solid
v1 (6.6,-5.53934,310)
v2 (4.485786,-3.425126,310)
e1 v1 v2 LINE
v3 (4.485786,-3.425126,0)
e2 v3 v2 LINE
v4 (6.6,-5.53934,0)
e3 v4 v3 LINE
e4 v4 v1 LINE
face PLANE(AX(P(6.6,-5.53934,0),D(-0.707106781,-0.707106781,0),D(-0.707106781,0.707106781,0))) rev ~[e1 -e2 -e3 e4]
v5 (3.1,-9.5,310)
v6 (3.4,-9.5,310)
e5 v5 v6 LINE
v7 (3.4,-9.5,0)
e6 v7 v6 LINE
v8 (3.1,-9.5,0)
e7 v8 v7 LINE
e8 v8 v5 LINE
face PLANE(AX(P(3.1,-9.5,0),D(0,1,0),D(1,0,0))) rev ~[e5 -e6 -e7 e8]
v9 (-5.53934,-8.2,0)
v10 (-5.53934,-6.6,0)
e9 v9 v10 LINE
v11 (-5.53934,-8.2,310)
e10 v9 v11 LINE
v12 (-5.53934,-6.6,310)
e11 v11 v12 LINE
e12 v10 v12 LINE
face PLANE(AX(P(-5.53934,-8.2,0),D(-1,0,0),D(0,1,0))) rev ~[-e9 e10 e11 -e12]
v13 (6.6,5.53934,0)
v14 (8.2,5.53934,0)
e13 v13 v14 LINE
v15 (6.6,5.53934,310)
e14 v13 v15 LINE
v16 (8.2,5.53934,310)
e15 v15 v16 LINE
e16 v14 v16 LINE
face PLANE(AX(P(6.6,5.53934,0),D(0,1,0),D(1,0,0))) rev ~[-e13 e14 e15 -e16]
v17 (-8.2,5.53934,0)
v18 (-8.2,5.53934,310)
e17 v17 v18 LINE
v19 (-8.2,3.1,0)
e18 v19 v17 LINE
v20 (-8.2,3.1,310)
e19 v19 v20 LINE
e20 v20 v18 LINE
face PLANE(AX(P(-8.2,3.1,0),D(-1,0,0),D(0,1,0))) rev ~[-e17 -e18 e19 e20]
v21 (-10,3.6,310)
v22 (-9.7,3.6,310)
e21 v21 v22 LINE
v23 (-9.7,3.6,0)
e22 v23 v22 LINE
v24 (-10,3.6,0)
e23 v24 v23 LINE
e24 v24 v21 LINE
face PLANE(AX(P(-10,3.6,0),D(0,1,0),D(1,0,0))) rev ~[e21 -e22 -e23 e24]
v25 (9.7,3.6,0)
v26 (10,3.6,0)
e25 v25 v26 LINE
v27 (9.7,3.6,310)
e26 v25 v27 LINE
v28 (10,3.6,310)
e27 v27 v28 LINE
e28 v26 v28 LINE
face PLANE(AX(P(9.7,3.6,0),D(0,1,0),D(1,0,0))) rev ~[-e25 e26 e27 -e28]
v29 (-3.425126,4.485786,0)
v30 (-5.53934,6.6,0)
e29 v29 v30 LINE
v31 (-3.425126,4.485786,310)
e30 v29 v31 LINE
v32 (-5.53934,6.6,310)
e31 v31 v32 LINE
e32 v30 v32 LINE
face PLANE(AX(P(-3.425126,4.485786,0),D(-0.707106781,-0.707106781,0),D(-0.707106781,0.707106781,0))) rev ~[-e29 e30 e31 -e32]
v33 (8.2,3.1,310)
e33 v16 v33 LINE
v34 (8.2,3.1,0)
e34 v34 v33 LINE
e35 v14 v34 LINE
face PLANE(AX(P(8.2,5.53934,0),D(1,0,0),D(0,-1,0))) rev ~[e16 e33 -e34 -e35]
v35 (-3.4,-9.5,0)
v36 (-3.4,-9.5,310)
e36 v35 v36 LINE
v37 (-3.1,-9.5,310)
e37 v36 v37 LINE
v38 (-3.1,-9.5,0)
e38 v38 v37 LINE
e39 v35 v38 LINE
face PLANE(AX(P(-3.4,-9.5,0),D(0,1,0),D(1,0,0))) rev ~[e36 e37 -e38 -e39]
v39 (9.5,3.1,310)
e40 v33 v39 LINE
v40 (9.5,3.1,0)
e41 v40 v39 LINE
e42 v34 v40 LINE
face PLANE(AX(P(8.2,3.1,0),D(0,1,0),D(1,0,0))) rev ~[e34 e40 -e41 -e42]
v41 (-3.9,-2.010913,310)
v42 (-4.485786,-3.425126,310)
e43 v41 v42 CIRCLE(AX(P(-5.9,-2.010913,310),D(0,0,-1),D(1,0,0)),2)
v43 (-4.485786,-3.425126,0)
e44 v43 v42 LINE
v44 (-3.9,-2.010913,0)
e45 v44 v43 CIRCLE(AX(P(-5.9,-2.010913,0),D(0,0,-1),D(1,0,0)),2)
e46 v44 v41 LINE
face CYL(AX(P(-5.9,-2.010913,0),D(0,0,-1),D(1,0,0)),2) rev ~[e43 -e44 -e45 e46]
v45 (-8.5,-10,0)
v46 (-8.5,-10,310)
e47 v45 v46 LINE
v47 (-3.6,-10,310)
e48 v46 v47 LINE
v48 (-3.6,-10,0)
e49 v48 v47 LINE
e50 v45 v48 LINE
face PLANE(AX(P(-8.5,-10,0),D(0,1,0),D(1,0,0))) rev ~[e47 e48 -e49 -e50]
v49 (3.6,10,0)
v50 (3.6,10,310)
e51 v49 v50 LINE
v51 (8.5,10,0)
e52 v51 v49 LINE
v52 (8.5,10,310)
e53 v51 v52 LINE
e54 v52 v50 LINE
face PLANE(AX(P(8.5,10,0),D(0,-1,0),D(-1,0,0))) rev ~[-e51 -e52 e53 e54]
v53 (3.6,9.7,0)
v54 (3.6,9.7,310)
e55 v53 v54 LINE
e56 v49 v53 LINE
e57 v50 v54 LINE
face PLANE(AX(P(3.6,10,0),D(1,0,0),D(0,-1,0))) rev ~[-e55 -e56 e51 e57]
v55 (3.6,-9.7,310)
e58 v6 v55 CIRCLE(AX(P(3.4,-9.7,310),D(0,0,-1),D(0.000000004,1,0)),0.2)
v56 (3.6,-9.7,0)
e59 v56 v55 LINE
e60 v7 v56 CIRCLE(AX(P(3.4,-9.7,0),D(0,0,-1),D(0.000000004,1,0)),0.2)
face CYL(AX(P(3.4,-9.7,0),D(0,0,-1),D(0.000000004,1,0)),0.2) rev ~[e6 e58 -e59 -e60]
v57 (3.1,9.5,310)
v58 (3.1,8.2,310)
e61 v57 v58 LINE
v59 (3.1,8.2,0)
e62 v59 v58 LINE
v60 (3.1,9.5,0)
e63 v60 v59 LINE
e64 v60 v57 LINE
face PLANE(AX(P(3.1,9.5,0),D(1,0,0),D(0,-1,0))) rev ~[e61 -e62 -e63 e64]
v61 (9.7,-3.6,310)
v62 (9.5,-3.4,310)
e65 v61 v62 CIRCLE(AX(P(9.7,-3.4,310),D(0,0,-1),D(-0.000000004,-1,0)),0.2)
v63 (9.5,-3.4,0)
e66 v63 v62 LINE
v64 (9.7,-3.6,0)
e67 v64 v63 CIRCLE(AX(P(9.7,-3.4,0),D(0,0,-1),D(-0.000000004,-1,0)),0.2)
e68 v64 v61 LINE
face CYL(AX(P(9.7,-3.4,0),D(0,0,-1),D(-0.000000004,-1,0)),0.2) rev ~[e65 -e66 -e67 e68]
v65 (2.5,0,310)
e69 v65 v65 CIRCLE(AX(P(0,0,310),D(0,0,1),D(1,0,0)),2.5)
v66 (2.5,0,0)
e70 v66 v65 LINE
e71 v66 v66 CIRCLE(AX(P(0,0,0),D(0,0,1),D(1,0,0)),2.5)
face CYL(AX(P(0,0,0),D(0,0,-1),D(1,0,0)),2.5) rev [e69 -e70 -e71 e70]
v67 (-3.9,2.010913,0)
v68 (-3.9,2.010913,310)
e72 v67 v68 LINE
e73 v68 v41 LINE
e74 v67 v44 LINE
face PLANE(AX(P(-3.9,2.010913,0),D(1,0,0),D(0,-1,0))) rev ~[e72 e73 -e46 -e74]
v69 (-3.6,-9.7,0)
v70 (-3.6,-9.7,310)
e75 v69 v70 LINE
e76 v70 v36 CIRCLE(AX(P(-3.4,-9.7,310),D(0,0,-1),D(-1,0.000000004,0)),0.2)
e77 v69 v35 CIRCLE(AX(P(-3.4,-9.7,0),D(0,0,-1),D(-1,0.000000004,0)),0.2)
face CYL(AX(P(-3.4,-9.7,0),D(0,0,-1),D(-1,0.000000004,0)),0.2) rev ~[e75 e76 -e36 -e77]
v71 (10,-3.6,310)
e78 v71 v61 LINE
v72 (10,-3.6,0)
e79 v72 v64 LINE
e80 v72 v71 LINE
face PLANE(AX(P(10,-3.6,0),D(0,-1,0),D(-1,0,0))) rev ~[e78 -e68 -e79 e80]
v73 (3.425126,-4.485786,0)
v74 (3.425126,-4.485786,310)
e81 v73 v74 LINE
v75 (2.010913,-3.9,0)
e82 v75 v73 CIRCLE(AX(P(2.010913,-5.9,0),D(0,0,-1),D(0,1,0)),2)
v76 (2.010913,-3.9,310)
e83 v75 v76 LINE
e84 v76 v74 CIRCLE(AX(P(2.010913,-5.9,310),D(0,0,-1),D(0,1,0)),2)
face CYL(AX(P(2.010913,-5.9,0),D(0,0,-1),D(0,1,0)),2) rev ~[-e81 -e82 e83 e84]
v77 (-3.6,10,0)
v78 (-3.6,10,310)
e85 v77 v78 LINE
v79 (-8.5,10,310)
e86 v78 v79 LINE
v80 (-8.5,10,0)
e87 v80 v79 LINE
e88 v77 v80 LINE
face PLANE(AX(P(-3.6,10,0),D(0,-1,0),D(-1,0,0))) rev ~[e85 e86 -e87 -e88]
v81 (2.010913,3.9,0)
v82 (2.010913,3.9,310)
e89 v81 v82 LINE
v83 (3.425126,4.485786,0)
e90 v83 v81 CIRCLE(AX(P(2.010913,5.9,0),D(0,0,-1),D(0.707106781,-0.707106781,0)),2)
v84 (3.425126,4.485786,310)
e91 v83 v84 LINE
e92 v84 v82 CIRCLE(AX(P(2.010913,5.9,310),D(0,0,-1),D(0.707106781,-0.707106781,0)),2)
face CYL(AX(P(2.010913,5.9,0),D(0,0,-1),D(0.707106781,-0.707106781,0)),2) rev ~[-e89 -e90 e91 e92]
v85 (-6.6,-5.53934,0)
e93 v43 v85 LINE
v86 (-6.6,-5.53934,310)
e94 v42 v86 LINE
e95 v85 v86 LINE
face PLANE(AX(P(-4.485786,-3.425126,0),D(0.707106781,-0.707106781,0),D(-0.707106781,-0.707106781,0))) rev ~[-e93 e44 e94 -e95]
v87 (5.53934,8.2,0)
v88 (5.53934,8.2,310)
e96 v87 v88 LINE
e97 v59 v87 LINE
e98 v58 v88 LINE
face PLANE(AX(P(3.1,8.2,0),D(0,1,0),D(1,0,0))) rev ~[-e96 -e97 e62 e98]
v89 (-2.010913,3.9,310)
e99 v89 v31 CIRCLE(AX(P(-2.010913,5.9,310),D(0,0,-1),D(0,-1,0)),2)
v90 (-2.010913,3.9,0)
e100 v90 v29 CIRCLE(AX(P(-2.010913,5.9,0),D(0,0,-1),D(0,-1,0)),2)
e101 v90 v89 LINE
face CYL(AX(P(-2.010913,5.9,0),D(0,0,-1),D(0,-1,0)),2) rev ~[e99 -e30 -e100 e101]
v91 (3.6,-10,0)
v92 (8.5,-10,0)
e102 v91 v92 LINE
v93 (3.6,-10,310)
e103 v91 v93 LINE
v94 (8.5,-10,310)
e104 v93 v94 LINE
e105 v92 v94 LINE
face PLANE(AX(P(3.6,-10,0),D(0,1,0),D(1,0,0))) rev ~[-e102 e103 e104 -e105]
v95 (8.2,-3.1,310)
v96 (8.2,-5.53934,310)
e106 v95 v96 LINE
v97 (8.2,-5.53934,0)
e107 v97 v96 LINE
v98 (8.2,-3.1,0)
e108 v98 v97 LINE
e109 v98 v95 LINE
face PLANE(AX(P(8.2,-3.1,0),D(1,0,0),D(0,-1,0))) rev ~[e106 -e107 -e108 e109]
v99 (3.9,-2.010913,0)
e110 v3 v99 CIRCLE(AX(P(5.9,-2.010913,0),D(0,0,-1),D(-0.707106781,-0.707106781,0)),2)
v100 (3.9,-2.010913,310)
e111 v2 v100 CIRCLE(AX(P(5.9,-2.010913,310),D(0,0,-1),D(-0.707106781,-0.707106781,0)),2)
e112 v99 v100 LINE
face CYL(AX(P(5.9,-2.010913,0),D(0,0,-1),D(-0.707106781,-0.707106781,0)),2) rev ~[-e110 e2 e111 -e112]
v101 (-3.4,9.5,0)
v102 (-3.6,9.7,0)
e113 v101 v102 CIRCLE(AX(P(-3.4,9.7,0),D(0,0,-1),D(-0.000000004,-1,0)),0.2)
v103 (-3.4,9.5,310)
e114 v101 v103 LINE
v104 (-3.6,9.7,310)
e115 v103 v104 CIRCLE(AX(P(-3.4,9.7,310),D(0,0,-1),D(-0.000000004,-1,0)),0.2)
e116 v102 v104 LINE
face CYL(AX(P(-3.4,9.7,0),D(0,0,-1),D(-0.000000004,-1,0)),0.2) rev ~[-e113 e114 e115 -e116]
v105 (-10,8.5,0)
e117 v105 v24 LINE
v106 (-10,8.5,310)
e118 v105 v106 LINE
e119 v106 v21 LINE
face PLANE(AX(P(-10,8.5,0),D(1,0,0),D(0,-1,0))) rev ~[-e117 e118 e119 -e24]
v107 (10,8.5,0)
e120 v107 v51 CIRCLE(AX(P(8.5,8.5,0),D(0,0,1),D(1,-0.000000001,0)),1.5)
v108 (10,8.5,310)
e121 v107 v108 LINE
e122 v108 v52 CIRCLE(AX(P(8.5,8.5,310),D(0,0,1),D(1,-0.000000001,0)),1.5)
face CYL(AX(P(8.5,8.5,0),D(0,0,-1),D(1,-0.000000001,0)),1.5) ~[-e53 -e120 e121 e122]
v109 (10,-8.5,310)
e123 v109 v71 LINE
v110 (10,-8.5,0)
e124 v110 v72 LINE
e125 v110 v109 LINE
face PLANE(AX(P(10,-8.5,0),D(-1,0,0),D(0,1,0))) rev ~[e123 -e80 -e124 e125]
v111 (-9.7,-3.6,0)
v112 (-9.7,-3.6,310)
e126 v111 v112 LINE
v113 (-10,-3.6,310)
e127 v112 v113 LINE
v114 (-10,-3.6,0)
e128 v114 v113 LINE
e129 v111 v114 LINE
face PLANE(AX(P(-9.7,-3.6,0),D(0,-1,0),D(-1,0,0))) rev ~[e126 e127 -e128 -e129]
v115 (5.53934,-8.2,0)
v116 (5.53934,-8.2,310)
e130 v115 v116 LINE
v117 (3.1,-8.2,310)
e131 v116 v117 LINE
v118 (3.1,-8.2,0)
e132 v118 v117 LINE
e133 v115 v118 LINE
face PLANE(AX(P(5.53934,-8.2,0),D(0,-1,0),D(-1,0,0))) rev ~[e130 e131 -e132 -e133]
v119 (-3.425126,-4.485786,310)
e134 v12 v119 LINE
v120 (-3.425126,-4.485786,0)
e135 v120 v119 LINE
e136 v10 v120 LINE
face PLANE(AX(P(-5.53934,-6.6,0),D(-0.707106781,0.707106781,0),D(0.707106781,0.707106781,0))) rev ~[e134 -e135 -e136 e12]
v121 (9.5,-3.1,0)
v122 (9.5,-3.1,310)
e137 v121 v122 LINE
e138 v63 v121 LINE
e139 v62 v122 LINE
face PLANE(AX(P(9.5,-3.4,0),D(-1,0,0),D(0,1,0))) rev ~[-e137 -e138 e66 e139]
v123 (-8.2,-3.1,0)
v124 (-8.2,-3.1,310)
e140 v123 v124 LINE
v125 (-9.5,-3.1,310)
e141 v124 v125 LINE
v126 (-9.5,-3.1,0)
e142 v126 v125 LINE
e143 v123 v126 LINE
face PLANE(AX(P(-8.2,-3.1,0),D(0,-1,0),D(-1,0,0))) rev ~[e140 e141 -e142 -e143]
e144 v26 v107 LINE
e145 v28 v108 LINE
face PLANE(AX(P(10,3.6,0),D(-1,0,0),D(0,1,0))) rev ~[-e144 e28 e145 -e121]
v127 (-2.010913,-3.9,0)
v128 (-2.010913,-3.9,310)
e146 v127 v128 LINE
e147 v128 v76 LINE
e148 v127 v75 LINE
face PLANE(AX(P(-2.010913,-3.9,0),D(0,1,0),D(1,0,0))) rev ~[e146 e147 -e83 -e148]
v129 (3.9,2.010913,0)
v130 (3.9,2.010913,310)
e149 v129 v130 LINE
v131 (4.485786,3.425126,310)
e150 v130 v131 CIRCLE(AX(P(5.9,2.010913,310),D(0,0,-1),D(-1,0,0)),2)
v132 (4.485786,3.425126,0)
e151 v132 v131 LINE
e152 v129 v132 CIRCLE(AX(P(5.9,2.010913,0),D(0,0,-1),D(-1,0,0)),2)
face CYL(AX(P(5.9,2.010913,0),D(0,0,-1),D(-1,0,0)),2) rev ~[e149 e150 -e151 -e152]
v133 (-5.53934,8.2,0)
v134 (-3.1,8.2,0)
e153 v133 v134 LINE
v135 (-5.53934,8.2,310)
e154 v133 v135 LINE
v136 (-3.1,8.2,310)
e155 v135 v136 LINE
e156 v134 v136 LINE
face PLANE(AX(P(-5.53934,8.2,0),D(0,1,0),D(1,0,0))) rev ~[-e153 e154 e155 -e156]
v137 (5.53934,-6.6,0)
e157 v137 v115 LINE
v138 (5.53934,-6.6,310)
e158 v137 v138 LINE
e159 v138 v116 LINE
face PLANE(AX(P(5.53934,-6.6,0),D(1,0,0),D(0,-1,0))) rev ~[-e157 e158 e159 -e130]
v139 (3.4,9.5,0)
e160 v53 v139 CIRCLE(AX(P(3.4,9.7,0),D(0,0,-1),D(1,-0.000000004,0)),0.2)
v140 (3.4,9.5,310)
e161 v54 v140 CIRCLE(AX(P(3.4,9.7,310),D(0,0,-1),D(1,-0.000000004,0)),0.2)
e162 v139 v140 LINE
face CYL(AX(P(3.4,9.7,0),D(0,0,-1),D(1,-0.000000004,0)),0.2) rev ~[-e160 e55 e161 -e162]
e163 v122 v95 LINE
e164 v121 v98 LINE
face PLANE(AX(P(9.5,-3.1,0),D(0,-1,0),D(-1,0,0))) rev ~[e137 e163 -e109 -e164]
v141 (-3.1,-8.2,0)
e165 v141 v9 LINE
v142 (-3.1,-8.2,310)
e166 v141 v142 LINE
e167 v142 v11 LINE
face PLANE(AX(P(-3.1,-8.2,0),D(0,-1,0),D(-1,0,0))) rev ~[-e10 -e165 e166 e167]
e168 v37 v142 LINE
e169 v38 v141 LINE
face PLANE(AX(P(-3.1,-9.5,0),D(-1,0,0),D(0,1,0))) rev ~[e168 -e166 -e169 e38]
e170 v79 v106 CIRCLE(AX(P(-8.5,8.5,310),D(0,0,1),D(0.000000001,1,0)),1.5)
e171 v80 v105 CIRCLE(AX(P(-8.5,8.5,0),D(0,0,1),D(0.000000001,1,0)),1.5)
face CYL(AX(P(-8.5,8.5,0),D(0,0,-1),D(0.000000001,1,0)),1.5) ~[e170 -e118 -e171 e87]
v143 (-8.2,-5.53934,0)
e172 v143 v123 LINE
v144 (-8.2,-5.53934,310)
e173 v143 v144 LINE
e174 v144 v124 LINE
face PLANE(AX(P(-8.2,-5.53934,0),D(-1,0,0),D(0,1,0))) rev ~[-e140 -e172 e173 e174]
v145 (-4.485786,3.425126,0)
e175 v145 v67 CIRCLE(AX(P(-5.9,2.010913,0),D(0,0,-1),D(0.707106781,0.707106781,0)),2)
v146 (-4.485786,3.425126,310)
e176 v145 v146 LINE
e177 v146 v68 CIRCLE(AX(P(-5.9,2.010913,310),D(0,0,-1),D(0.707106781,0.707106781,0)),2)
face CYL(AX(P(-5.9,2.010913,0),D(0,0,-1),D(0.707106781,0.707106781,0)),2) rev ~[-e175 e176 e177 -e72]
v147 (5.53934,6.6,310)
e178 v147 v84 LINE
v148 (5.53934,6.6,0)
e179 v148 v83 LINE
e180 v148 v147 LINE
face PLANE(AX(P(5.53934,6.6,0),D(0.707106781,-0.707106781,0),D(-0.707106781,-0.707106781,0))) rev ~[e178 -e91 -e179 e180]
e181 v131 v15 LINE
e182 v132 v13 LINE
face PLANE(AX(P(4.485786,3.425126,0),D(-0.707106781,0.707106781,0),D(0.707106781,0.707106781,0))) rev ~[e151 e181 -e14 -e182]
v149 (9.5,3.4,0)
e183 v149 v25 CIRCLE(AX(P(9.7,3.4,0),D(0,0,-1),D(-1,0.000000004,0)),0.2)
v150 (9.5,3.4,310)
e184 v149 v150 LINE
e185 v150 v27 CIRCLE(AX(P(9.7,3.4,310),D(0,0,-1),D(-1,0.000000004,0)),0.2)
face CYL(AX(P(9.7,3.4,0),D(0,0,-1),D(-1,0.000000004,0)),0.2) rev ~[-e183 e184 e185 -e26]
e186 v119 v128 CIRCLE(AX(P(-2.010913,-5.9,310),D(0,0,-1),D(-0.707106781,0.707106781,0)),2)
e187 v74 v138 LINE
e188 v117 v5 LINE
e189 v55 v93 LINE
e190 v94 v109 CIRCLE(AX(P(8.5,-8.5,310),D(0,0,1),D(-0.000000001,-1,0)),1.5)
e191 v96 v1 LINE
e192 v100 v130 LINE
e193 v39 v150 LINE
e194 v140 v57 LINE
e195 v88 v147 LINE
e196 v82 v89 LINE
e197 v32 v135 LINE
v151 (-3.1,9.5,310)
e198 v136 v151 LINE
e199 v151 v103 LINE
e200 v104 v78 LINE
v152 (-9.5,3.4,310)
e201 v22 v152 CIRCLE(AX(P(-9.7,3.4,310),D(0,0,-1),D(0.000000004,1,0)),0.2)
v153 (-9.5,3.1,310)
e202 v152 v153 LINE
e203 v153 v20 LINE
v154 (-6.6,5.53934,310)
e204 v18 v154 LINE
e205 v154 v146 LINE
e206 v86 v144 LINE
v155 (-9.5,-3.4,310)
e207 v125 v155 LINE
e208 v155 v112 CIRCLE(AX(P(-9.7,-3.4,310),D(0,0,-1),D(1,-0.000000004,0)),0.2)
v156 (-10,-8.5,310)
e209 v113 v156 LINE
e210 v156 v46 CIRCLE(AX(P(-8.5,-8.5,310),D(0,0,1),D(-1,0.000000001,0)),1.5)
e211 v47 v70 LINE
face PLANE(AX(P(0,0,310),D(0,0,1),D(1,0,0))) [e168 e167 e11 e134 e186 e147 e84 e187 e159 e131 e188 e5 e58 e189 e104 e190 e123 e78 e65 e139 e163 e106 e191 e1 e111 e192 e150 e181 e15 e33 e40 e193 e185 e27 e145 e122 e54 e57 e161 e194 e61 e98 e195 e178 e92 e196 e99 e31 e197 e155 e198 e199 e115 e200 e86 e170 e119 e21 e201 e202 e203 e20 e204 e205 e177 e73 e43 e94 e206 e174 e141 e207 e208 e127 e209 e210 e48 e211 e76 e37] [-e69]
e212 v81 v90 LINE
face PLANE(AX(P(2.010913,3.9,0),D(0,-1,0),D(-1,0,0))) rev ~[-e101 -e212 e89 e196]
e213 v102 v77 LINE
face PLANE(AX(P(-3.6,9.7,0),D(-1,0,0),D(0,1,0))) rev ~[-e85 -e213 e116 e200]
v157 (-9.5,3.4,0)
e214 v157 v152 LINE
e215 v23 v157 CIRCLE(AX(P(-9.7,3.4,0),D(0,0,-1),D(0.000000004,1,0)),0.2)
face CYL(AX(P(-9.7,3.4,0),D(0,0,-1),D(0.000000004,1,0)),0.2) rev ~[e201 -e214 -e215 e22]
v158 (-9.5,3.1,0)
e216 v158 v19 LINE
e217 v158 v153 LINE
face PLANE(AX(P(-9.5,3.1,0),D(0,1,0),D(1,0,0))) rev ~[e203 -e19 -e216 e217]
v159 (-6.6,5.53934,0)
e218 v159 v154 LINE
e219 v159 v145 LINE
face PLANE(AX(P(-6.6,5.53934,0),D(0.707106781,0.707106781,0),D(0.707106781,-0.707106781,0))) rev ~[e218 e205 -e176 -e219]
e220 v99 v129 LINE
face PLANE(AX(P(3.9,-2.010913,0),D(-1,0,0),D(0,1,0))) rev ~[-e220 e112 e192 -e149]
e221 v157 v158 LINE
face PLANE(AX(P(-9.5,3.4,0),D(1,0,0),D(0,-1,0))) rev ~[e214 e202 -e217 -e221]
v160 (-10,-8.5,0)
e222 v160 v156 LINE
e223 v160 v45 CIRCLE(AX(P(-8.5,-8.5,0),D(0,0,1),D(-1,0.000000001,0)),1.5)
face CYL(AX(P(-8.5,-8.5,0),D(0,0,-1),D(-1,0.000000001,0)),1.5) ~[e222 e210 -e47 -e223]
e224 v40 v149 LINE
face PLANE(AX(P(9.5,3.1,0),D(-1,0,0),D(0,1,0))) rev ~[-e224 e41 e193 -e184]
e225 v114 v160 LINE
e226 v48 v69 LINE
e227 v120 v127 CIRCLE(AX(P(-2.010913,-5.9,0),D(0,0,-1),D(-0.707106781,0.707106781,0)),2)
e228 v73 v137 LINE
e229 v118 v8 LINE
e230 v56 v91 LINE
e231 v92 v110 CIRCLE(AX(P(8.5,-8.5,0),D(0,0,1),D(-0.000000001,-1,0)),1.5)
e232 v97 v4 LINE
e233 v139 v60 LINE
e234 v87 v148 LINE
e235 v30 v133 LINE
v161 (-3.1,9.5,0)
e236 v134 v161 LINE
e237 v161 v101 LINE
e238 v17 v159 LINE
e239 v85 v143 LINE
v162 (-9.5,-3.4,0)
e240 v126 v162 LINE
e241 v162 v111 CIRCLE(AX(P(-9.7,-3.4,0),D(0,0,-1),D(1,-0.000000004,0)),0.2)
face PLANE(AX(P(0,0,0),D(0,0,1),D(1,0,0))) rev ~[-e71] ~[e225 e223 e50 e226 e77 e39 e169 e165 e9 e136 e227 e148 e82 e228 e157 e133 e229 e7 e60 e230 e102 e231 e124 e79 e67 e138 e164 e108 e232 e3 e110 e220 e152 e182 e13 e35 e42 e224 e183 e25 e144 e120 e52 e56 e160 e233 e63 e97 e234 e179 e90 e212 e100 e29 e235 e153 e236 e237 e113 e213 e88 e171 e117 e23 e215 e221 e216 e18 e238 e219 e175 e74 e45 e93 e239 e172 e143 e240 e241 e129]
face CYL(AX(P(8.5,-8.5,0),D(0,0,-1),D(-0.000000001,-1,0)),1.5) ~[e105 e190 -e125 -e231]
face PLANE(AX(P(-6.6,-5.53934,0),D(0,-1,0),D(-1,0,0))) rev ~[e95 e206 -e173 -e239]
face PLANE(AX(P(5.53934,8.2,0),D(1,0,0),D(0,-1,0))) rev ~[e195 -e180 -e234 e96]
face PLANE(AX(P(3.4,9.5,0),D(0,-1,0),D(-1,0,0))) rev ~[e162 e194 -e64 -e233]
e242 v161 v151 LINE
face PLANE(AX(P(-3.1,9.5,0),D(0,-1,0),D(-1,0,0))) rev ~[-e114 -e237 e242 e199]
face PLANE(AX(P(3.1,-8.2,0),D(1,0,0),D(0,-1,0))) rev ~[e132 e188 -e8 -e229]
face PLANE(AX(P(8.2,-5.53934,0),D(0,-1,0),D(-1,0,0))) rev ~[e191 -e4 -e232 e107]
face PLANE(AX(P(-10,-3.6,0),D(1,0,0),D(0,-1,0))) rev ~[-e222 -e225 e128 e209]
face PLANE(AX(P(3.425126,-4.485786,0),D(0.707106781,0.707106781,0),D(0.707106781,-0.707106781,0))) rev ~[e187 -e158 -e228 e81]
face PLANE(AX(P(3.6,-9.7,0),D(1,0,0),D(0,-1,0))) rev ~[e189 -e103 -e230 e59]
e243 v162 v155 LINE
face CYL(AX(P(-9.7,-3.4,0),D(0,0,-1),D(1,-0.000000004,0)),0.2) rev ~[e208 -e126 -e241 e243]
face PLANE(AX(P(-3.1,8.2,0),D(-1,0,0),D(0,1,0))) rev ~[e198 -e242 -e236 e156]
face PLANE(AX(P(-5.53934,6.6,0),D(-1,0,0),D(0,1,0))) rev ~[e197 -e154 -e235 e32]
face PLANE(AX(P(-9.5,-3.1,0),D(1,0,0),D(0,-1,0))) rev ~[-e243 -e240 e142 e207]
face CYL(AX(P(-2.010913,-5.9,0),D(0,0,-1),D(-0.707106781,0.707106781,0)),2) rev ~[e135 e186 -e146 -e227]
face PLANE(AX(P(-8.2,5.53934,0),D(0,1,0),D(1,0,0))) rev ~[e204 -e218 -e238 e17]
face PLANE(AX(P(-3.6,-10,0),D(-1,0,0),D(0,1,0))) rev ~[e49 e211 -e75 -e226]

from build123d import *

# Parameters (mm, degrees)
SKETCH1_R       = 2.5
EXTRUDE_1_DEPTH = 310


with BuildPart() as part:
    # Sketch1 → Бобышка-Вытянуть1 (new body)
    with BuildSketch(Plane.XY):
        with BuildLine():
            Line((0, 3.9), (-2.010912703, 3.9))
            ThreePointArc((-2.010912703, 3.9), (-2.776279568, 4.052240935), (-3.425126266, 4.485786438))
            Line((-3.425126266, 4.485786438), (-5.539339828, 6.6))
            Line((-5.539339828, 6.6), (-5.539339828, 8.2))
            Line((-5.539339828, 8.2), (-3.1, 8.2))
            Line((-3.1, 8.2), (-3.1, 9.5))
            Line((-3.1, 9.5), (-3.4, 9.5))
            ThreePointArc((-3.4, 9.5), (-3.541421356, 9.558578644), (-3.6, 9.7))
            Line((-3.6, 9.7), (-3.6, 10))
            Line((-3.6, 10), (-8.5, 10))
            ThreePointArc((-8.5, 10), (-9.560660172, 9.560660172), (-10, 8.5))
            Line((-10, 8.5), (-10, 3.6))
            Line((-10, 3.6), (-9.7, 3.6))
            ThreePointArc((-9.7, 3.6), (-9.558578644, 3.541421356), (-9.5, 3.4))
            Line((-9.5, 3.4), (-9.5, 3.1))
            Line((-9.5, 3.1), (-8.2, 3.1))
            Line((-8.2, 3.1), (-8.2, 5.539339828))
            Line((-8.2, 5.539339828), (-6.6, 5.539339828))
            Line((-6.6, 5.539339828), (-4.485786438, 3.425126266))
            ThreePointArc((-4.485786438, 3.425126266), (-4.052240935, 2.776279568), (-3.9, 2.010912703))
            Line((-3.9, 2.010912703), (-3.9, 0))
            Line((-3.9, 0), (-3.9, -2.010912703))
            ThreePointArc((-3.9, -2.010912703), (-4.052240935, -2.776279568), (-4.485786438, -3.425126266))
            Line((-4.485786438, -3.425126266), (-6.6, -5.539339828))
            Line((-6.6, -5.539339828), (-8.2, -5.539339828))
            Line((-8.2, -5.539339828), (-8.2, -3.1))
            Line((-8.2, -3.1), (-9.5, -3.1))
            Line((-9.5, -3.1), (-9.5, -3.4))
            ThreePointArc((-9.5, -3.4), (-9.558578644, -3.541421356), (-9.7, -3.6))
            Line((-9.7, -3.6), (-10, -3.6))
            Line((-10, -3.6), (-10, -8.5))
            ThreePointArc((-10, -8.5), (-9.560660172, -9.560660172), (-8.5, -10))
            Line((-8.5, -10), (-3.6, -10))
            Line((-3.6, -10), (-3.6, -9.7))
            ThreePointArc((-3.6, -9.7), (-3.541421356, -9.558578644), (-3.4, -9.5))
            Line((-3.4, -9.5), (-3.1, -9.5))
            Line((-3.1, -9.5), (-3.1, -8.2))
            Line((-3.1, -8.2), (-5.539339828, -8.2))
            Line((-5.539339828, -8.2), (-5.539339828, -6.6))
            Line((-5.539339828, -6.6), (-3.425126266, -4.485786438))
            ThreePointArc((-3.425126266, -4.485786438), (-2.776279568, -4.052240935), (-2.010912703, -3.9))
            Line((-2.010912703, -3.9), (0, -3.9))
            Line((0, -3.9), (2.010912703, -3.9))
            ThreePointArc((2.010912703, -3.9), (2.776279568, -4.052240935), (3.425126266, -4.485786438))
            Line((3.425126266, -4.485786438), (5.539339828, -6.6))
            Line((5.539339828, -6.6), (5.539339828, -8.2))
            Line((5.539339828, -8.2), (3.1, -8.2))
            Line((3.1, -8.2), (3.1, -9.5))
            Line((3.1, -9.5), (3.4, -9.5))
            ThreePointArc((3.4, -9.5), (3.541421356, -9.558578644), (3.6, -9.7))
            Line((3.6, -9.7), (3.6, -10))
            Line((3.6, -10), (8.5, -10))
            ThreePointArc((8.5, -10), (9.560660172, -9.560660172), (10, -8.5))
            Line((10, -8.5), (10, -3.6))
            Line((10, -3.6), (9.7, -3.6))
            ThreePointArc((9.7, -3.6), (9.558578644, -3.541421356), (9.5, -3.4))
            Line((9.5, -3.4), (9.5, -3.1))
            Line((9.5, -3.1), (8.2, -3.1))
            Line((8.2, -3.1), (8.2, -5.539339828))
            Line((8.2, -5.539339828), (6.6, -5.539339828))
            Line((6.6, -5.539339828), (4.485786438, -3.425126266))
            ThreePointArc((4.485786438, -3.425126266), (4.052240935, -2.776279568), (3.9, -2.010912703))
            Line((3.9, -2.010912703), (3.9, 0))
            Line((3.9, 0), (3.9, 2.010912703))
            ThreePointArc((3.9, 2.010912703), (4.052240935, 2.776279568), (4.485786438, 3.425126266))
            Line((4.485786438, 3.425126266), (6.6, 5.539339828))
            Line((6.6, 5.539339828), (8.2, 5.539339828))
            Line((8.2, 5.539339828), (8.2, 3.1))
            Line((8.2, 3.1), (9.5, 3.1))
            Line((9.5, 3.1), (9.5, 3.4))
            ThreePointArc((9.5, 3.4), (9.558578644, 3.541421356), (9.7, 3.6))
            Line((9.7, 3.6), (10, 3.6))
            Line((10, 3.6), (10, 8.5))
            ThreePointArc((10, 8.5), (9.560660172, 9.560660172), (8.5, 10))
            Line((8.5, 10), (3.6, 10))
            Line((3.6, 10), (3.6, 9.7))
            ThreePointArc((3.6, 9.7), (3.541421356, 9.558578644), (3.4, 9.5))
            Line((3.4, 9.5), (3.1, 9.5))
            Line((3.1, 9.5), (3.1, 8.2))
            Line((3.1, 8.2), (5.539339828, 8.2))
            Line((5.539339828, 8.2), (5.539339828, 6.6))
            Line((5.539339828, 6.6), (3.425126266, 4.485786438))
            ThreePointArc((3.425126266, 4.485786438), (2.776279568, 4.052240935), (2.010912703, 3.9))
            Line((2.010912703, 3.9), (0, 3.9))
        make_face()
        Circle(SKETCH1_R, mode=Mode.SUBTRACT)
    extrude(amount=EXTRUDE_1_DEPTH)


solid = part.part
